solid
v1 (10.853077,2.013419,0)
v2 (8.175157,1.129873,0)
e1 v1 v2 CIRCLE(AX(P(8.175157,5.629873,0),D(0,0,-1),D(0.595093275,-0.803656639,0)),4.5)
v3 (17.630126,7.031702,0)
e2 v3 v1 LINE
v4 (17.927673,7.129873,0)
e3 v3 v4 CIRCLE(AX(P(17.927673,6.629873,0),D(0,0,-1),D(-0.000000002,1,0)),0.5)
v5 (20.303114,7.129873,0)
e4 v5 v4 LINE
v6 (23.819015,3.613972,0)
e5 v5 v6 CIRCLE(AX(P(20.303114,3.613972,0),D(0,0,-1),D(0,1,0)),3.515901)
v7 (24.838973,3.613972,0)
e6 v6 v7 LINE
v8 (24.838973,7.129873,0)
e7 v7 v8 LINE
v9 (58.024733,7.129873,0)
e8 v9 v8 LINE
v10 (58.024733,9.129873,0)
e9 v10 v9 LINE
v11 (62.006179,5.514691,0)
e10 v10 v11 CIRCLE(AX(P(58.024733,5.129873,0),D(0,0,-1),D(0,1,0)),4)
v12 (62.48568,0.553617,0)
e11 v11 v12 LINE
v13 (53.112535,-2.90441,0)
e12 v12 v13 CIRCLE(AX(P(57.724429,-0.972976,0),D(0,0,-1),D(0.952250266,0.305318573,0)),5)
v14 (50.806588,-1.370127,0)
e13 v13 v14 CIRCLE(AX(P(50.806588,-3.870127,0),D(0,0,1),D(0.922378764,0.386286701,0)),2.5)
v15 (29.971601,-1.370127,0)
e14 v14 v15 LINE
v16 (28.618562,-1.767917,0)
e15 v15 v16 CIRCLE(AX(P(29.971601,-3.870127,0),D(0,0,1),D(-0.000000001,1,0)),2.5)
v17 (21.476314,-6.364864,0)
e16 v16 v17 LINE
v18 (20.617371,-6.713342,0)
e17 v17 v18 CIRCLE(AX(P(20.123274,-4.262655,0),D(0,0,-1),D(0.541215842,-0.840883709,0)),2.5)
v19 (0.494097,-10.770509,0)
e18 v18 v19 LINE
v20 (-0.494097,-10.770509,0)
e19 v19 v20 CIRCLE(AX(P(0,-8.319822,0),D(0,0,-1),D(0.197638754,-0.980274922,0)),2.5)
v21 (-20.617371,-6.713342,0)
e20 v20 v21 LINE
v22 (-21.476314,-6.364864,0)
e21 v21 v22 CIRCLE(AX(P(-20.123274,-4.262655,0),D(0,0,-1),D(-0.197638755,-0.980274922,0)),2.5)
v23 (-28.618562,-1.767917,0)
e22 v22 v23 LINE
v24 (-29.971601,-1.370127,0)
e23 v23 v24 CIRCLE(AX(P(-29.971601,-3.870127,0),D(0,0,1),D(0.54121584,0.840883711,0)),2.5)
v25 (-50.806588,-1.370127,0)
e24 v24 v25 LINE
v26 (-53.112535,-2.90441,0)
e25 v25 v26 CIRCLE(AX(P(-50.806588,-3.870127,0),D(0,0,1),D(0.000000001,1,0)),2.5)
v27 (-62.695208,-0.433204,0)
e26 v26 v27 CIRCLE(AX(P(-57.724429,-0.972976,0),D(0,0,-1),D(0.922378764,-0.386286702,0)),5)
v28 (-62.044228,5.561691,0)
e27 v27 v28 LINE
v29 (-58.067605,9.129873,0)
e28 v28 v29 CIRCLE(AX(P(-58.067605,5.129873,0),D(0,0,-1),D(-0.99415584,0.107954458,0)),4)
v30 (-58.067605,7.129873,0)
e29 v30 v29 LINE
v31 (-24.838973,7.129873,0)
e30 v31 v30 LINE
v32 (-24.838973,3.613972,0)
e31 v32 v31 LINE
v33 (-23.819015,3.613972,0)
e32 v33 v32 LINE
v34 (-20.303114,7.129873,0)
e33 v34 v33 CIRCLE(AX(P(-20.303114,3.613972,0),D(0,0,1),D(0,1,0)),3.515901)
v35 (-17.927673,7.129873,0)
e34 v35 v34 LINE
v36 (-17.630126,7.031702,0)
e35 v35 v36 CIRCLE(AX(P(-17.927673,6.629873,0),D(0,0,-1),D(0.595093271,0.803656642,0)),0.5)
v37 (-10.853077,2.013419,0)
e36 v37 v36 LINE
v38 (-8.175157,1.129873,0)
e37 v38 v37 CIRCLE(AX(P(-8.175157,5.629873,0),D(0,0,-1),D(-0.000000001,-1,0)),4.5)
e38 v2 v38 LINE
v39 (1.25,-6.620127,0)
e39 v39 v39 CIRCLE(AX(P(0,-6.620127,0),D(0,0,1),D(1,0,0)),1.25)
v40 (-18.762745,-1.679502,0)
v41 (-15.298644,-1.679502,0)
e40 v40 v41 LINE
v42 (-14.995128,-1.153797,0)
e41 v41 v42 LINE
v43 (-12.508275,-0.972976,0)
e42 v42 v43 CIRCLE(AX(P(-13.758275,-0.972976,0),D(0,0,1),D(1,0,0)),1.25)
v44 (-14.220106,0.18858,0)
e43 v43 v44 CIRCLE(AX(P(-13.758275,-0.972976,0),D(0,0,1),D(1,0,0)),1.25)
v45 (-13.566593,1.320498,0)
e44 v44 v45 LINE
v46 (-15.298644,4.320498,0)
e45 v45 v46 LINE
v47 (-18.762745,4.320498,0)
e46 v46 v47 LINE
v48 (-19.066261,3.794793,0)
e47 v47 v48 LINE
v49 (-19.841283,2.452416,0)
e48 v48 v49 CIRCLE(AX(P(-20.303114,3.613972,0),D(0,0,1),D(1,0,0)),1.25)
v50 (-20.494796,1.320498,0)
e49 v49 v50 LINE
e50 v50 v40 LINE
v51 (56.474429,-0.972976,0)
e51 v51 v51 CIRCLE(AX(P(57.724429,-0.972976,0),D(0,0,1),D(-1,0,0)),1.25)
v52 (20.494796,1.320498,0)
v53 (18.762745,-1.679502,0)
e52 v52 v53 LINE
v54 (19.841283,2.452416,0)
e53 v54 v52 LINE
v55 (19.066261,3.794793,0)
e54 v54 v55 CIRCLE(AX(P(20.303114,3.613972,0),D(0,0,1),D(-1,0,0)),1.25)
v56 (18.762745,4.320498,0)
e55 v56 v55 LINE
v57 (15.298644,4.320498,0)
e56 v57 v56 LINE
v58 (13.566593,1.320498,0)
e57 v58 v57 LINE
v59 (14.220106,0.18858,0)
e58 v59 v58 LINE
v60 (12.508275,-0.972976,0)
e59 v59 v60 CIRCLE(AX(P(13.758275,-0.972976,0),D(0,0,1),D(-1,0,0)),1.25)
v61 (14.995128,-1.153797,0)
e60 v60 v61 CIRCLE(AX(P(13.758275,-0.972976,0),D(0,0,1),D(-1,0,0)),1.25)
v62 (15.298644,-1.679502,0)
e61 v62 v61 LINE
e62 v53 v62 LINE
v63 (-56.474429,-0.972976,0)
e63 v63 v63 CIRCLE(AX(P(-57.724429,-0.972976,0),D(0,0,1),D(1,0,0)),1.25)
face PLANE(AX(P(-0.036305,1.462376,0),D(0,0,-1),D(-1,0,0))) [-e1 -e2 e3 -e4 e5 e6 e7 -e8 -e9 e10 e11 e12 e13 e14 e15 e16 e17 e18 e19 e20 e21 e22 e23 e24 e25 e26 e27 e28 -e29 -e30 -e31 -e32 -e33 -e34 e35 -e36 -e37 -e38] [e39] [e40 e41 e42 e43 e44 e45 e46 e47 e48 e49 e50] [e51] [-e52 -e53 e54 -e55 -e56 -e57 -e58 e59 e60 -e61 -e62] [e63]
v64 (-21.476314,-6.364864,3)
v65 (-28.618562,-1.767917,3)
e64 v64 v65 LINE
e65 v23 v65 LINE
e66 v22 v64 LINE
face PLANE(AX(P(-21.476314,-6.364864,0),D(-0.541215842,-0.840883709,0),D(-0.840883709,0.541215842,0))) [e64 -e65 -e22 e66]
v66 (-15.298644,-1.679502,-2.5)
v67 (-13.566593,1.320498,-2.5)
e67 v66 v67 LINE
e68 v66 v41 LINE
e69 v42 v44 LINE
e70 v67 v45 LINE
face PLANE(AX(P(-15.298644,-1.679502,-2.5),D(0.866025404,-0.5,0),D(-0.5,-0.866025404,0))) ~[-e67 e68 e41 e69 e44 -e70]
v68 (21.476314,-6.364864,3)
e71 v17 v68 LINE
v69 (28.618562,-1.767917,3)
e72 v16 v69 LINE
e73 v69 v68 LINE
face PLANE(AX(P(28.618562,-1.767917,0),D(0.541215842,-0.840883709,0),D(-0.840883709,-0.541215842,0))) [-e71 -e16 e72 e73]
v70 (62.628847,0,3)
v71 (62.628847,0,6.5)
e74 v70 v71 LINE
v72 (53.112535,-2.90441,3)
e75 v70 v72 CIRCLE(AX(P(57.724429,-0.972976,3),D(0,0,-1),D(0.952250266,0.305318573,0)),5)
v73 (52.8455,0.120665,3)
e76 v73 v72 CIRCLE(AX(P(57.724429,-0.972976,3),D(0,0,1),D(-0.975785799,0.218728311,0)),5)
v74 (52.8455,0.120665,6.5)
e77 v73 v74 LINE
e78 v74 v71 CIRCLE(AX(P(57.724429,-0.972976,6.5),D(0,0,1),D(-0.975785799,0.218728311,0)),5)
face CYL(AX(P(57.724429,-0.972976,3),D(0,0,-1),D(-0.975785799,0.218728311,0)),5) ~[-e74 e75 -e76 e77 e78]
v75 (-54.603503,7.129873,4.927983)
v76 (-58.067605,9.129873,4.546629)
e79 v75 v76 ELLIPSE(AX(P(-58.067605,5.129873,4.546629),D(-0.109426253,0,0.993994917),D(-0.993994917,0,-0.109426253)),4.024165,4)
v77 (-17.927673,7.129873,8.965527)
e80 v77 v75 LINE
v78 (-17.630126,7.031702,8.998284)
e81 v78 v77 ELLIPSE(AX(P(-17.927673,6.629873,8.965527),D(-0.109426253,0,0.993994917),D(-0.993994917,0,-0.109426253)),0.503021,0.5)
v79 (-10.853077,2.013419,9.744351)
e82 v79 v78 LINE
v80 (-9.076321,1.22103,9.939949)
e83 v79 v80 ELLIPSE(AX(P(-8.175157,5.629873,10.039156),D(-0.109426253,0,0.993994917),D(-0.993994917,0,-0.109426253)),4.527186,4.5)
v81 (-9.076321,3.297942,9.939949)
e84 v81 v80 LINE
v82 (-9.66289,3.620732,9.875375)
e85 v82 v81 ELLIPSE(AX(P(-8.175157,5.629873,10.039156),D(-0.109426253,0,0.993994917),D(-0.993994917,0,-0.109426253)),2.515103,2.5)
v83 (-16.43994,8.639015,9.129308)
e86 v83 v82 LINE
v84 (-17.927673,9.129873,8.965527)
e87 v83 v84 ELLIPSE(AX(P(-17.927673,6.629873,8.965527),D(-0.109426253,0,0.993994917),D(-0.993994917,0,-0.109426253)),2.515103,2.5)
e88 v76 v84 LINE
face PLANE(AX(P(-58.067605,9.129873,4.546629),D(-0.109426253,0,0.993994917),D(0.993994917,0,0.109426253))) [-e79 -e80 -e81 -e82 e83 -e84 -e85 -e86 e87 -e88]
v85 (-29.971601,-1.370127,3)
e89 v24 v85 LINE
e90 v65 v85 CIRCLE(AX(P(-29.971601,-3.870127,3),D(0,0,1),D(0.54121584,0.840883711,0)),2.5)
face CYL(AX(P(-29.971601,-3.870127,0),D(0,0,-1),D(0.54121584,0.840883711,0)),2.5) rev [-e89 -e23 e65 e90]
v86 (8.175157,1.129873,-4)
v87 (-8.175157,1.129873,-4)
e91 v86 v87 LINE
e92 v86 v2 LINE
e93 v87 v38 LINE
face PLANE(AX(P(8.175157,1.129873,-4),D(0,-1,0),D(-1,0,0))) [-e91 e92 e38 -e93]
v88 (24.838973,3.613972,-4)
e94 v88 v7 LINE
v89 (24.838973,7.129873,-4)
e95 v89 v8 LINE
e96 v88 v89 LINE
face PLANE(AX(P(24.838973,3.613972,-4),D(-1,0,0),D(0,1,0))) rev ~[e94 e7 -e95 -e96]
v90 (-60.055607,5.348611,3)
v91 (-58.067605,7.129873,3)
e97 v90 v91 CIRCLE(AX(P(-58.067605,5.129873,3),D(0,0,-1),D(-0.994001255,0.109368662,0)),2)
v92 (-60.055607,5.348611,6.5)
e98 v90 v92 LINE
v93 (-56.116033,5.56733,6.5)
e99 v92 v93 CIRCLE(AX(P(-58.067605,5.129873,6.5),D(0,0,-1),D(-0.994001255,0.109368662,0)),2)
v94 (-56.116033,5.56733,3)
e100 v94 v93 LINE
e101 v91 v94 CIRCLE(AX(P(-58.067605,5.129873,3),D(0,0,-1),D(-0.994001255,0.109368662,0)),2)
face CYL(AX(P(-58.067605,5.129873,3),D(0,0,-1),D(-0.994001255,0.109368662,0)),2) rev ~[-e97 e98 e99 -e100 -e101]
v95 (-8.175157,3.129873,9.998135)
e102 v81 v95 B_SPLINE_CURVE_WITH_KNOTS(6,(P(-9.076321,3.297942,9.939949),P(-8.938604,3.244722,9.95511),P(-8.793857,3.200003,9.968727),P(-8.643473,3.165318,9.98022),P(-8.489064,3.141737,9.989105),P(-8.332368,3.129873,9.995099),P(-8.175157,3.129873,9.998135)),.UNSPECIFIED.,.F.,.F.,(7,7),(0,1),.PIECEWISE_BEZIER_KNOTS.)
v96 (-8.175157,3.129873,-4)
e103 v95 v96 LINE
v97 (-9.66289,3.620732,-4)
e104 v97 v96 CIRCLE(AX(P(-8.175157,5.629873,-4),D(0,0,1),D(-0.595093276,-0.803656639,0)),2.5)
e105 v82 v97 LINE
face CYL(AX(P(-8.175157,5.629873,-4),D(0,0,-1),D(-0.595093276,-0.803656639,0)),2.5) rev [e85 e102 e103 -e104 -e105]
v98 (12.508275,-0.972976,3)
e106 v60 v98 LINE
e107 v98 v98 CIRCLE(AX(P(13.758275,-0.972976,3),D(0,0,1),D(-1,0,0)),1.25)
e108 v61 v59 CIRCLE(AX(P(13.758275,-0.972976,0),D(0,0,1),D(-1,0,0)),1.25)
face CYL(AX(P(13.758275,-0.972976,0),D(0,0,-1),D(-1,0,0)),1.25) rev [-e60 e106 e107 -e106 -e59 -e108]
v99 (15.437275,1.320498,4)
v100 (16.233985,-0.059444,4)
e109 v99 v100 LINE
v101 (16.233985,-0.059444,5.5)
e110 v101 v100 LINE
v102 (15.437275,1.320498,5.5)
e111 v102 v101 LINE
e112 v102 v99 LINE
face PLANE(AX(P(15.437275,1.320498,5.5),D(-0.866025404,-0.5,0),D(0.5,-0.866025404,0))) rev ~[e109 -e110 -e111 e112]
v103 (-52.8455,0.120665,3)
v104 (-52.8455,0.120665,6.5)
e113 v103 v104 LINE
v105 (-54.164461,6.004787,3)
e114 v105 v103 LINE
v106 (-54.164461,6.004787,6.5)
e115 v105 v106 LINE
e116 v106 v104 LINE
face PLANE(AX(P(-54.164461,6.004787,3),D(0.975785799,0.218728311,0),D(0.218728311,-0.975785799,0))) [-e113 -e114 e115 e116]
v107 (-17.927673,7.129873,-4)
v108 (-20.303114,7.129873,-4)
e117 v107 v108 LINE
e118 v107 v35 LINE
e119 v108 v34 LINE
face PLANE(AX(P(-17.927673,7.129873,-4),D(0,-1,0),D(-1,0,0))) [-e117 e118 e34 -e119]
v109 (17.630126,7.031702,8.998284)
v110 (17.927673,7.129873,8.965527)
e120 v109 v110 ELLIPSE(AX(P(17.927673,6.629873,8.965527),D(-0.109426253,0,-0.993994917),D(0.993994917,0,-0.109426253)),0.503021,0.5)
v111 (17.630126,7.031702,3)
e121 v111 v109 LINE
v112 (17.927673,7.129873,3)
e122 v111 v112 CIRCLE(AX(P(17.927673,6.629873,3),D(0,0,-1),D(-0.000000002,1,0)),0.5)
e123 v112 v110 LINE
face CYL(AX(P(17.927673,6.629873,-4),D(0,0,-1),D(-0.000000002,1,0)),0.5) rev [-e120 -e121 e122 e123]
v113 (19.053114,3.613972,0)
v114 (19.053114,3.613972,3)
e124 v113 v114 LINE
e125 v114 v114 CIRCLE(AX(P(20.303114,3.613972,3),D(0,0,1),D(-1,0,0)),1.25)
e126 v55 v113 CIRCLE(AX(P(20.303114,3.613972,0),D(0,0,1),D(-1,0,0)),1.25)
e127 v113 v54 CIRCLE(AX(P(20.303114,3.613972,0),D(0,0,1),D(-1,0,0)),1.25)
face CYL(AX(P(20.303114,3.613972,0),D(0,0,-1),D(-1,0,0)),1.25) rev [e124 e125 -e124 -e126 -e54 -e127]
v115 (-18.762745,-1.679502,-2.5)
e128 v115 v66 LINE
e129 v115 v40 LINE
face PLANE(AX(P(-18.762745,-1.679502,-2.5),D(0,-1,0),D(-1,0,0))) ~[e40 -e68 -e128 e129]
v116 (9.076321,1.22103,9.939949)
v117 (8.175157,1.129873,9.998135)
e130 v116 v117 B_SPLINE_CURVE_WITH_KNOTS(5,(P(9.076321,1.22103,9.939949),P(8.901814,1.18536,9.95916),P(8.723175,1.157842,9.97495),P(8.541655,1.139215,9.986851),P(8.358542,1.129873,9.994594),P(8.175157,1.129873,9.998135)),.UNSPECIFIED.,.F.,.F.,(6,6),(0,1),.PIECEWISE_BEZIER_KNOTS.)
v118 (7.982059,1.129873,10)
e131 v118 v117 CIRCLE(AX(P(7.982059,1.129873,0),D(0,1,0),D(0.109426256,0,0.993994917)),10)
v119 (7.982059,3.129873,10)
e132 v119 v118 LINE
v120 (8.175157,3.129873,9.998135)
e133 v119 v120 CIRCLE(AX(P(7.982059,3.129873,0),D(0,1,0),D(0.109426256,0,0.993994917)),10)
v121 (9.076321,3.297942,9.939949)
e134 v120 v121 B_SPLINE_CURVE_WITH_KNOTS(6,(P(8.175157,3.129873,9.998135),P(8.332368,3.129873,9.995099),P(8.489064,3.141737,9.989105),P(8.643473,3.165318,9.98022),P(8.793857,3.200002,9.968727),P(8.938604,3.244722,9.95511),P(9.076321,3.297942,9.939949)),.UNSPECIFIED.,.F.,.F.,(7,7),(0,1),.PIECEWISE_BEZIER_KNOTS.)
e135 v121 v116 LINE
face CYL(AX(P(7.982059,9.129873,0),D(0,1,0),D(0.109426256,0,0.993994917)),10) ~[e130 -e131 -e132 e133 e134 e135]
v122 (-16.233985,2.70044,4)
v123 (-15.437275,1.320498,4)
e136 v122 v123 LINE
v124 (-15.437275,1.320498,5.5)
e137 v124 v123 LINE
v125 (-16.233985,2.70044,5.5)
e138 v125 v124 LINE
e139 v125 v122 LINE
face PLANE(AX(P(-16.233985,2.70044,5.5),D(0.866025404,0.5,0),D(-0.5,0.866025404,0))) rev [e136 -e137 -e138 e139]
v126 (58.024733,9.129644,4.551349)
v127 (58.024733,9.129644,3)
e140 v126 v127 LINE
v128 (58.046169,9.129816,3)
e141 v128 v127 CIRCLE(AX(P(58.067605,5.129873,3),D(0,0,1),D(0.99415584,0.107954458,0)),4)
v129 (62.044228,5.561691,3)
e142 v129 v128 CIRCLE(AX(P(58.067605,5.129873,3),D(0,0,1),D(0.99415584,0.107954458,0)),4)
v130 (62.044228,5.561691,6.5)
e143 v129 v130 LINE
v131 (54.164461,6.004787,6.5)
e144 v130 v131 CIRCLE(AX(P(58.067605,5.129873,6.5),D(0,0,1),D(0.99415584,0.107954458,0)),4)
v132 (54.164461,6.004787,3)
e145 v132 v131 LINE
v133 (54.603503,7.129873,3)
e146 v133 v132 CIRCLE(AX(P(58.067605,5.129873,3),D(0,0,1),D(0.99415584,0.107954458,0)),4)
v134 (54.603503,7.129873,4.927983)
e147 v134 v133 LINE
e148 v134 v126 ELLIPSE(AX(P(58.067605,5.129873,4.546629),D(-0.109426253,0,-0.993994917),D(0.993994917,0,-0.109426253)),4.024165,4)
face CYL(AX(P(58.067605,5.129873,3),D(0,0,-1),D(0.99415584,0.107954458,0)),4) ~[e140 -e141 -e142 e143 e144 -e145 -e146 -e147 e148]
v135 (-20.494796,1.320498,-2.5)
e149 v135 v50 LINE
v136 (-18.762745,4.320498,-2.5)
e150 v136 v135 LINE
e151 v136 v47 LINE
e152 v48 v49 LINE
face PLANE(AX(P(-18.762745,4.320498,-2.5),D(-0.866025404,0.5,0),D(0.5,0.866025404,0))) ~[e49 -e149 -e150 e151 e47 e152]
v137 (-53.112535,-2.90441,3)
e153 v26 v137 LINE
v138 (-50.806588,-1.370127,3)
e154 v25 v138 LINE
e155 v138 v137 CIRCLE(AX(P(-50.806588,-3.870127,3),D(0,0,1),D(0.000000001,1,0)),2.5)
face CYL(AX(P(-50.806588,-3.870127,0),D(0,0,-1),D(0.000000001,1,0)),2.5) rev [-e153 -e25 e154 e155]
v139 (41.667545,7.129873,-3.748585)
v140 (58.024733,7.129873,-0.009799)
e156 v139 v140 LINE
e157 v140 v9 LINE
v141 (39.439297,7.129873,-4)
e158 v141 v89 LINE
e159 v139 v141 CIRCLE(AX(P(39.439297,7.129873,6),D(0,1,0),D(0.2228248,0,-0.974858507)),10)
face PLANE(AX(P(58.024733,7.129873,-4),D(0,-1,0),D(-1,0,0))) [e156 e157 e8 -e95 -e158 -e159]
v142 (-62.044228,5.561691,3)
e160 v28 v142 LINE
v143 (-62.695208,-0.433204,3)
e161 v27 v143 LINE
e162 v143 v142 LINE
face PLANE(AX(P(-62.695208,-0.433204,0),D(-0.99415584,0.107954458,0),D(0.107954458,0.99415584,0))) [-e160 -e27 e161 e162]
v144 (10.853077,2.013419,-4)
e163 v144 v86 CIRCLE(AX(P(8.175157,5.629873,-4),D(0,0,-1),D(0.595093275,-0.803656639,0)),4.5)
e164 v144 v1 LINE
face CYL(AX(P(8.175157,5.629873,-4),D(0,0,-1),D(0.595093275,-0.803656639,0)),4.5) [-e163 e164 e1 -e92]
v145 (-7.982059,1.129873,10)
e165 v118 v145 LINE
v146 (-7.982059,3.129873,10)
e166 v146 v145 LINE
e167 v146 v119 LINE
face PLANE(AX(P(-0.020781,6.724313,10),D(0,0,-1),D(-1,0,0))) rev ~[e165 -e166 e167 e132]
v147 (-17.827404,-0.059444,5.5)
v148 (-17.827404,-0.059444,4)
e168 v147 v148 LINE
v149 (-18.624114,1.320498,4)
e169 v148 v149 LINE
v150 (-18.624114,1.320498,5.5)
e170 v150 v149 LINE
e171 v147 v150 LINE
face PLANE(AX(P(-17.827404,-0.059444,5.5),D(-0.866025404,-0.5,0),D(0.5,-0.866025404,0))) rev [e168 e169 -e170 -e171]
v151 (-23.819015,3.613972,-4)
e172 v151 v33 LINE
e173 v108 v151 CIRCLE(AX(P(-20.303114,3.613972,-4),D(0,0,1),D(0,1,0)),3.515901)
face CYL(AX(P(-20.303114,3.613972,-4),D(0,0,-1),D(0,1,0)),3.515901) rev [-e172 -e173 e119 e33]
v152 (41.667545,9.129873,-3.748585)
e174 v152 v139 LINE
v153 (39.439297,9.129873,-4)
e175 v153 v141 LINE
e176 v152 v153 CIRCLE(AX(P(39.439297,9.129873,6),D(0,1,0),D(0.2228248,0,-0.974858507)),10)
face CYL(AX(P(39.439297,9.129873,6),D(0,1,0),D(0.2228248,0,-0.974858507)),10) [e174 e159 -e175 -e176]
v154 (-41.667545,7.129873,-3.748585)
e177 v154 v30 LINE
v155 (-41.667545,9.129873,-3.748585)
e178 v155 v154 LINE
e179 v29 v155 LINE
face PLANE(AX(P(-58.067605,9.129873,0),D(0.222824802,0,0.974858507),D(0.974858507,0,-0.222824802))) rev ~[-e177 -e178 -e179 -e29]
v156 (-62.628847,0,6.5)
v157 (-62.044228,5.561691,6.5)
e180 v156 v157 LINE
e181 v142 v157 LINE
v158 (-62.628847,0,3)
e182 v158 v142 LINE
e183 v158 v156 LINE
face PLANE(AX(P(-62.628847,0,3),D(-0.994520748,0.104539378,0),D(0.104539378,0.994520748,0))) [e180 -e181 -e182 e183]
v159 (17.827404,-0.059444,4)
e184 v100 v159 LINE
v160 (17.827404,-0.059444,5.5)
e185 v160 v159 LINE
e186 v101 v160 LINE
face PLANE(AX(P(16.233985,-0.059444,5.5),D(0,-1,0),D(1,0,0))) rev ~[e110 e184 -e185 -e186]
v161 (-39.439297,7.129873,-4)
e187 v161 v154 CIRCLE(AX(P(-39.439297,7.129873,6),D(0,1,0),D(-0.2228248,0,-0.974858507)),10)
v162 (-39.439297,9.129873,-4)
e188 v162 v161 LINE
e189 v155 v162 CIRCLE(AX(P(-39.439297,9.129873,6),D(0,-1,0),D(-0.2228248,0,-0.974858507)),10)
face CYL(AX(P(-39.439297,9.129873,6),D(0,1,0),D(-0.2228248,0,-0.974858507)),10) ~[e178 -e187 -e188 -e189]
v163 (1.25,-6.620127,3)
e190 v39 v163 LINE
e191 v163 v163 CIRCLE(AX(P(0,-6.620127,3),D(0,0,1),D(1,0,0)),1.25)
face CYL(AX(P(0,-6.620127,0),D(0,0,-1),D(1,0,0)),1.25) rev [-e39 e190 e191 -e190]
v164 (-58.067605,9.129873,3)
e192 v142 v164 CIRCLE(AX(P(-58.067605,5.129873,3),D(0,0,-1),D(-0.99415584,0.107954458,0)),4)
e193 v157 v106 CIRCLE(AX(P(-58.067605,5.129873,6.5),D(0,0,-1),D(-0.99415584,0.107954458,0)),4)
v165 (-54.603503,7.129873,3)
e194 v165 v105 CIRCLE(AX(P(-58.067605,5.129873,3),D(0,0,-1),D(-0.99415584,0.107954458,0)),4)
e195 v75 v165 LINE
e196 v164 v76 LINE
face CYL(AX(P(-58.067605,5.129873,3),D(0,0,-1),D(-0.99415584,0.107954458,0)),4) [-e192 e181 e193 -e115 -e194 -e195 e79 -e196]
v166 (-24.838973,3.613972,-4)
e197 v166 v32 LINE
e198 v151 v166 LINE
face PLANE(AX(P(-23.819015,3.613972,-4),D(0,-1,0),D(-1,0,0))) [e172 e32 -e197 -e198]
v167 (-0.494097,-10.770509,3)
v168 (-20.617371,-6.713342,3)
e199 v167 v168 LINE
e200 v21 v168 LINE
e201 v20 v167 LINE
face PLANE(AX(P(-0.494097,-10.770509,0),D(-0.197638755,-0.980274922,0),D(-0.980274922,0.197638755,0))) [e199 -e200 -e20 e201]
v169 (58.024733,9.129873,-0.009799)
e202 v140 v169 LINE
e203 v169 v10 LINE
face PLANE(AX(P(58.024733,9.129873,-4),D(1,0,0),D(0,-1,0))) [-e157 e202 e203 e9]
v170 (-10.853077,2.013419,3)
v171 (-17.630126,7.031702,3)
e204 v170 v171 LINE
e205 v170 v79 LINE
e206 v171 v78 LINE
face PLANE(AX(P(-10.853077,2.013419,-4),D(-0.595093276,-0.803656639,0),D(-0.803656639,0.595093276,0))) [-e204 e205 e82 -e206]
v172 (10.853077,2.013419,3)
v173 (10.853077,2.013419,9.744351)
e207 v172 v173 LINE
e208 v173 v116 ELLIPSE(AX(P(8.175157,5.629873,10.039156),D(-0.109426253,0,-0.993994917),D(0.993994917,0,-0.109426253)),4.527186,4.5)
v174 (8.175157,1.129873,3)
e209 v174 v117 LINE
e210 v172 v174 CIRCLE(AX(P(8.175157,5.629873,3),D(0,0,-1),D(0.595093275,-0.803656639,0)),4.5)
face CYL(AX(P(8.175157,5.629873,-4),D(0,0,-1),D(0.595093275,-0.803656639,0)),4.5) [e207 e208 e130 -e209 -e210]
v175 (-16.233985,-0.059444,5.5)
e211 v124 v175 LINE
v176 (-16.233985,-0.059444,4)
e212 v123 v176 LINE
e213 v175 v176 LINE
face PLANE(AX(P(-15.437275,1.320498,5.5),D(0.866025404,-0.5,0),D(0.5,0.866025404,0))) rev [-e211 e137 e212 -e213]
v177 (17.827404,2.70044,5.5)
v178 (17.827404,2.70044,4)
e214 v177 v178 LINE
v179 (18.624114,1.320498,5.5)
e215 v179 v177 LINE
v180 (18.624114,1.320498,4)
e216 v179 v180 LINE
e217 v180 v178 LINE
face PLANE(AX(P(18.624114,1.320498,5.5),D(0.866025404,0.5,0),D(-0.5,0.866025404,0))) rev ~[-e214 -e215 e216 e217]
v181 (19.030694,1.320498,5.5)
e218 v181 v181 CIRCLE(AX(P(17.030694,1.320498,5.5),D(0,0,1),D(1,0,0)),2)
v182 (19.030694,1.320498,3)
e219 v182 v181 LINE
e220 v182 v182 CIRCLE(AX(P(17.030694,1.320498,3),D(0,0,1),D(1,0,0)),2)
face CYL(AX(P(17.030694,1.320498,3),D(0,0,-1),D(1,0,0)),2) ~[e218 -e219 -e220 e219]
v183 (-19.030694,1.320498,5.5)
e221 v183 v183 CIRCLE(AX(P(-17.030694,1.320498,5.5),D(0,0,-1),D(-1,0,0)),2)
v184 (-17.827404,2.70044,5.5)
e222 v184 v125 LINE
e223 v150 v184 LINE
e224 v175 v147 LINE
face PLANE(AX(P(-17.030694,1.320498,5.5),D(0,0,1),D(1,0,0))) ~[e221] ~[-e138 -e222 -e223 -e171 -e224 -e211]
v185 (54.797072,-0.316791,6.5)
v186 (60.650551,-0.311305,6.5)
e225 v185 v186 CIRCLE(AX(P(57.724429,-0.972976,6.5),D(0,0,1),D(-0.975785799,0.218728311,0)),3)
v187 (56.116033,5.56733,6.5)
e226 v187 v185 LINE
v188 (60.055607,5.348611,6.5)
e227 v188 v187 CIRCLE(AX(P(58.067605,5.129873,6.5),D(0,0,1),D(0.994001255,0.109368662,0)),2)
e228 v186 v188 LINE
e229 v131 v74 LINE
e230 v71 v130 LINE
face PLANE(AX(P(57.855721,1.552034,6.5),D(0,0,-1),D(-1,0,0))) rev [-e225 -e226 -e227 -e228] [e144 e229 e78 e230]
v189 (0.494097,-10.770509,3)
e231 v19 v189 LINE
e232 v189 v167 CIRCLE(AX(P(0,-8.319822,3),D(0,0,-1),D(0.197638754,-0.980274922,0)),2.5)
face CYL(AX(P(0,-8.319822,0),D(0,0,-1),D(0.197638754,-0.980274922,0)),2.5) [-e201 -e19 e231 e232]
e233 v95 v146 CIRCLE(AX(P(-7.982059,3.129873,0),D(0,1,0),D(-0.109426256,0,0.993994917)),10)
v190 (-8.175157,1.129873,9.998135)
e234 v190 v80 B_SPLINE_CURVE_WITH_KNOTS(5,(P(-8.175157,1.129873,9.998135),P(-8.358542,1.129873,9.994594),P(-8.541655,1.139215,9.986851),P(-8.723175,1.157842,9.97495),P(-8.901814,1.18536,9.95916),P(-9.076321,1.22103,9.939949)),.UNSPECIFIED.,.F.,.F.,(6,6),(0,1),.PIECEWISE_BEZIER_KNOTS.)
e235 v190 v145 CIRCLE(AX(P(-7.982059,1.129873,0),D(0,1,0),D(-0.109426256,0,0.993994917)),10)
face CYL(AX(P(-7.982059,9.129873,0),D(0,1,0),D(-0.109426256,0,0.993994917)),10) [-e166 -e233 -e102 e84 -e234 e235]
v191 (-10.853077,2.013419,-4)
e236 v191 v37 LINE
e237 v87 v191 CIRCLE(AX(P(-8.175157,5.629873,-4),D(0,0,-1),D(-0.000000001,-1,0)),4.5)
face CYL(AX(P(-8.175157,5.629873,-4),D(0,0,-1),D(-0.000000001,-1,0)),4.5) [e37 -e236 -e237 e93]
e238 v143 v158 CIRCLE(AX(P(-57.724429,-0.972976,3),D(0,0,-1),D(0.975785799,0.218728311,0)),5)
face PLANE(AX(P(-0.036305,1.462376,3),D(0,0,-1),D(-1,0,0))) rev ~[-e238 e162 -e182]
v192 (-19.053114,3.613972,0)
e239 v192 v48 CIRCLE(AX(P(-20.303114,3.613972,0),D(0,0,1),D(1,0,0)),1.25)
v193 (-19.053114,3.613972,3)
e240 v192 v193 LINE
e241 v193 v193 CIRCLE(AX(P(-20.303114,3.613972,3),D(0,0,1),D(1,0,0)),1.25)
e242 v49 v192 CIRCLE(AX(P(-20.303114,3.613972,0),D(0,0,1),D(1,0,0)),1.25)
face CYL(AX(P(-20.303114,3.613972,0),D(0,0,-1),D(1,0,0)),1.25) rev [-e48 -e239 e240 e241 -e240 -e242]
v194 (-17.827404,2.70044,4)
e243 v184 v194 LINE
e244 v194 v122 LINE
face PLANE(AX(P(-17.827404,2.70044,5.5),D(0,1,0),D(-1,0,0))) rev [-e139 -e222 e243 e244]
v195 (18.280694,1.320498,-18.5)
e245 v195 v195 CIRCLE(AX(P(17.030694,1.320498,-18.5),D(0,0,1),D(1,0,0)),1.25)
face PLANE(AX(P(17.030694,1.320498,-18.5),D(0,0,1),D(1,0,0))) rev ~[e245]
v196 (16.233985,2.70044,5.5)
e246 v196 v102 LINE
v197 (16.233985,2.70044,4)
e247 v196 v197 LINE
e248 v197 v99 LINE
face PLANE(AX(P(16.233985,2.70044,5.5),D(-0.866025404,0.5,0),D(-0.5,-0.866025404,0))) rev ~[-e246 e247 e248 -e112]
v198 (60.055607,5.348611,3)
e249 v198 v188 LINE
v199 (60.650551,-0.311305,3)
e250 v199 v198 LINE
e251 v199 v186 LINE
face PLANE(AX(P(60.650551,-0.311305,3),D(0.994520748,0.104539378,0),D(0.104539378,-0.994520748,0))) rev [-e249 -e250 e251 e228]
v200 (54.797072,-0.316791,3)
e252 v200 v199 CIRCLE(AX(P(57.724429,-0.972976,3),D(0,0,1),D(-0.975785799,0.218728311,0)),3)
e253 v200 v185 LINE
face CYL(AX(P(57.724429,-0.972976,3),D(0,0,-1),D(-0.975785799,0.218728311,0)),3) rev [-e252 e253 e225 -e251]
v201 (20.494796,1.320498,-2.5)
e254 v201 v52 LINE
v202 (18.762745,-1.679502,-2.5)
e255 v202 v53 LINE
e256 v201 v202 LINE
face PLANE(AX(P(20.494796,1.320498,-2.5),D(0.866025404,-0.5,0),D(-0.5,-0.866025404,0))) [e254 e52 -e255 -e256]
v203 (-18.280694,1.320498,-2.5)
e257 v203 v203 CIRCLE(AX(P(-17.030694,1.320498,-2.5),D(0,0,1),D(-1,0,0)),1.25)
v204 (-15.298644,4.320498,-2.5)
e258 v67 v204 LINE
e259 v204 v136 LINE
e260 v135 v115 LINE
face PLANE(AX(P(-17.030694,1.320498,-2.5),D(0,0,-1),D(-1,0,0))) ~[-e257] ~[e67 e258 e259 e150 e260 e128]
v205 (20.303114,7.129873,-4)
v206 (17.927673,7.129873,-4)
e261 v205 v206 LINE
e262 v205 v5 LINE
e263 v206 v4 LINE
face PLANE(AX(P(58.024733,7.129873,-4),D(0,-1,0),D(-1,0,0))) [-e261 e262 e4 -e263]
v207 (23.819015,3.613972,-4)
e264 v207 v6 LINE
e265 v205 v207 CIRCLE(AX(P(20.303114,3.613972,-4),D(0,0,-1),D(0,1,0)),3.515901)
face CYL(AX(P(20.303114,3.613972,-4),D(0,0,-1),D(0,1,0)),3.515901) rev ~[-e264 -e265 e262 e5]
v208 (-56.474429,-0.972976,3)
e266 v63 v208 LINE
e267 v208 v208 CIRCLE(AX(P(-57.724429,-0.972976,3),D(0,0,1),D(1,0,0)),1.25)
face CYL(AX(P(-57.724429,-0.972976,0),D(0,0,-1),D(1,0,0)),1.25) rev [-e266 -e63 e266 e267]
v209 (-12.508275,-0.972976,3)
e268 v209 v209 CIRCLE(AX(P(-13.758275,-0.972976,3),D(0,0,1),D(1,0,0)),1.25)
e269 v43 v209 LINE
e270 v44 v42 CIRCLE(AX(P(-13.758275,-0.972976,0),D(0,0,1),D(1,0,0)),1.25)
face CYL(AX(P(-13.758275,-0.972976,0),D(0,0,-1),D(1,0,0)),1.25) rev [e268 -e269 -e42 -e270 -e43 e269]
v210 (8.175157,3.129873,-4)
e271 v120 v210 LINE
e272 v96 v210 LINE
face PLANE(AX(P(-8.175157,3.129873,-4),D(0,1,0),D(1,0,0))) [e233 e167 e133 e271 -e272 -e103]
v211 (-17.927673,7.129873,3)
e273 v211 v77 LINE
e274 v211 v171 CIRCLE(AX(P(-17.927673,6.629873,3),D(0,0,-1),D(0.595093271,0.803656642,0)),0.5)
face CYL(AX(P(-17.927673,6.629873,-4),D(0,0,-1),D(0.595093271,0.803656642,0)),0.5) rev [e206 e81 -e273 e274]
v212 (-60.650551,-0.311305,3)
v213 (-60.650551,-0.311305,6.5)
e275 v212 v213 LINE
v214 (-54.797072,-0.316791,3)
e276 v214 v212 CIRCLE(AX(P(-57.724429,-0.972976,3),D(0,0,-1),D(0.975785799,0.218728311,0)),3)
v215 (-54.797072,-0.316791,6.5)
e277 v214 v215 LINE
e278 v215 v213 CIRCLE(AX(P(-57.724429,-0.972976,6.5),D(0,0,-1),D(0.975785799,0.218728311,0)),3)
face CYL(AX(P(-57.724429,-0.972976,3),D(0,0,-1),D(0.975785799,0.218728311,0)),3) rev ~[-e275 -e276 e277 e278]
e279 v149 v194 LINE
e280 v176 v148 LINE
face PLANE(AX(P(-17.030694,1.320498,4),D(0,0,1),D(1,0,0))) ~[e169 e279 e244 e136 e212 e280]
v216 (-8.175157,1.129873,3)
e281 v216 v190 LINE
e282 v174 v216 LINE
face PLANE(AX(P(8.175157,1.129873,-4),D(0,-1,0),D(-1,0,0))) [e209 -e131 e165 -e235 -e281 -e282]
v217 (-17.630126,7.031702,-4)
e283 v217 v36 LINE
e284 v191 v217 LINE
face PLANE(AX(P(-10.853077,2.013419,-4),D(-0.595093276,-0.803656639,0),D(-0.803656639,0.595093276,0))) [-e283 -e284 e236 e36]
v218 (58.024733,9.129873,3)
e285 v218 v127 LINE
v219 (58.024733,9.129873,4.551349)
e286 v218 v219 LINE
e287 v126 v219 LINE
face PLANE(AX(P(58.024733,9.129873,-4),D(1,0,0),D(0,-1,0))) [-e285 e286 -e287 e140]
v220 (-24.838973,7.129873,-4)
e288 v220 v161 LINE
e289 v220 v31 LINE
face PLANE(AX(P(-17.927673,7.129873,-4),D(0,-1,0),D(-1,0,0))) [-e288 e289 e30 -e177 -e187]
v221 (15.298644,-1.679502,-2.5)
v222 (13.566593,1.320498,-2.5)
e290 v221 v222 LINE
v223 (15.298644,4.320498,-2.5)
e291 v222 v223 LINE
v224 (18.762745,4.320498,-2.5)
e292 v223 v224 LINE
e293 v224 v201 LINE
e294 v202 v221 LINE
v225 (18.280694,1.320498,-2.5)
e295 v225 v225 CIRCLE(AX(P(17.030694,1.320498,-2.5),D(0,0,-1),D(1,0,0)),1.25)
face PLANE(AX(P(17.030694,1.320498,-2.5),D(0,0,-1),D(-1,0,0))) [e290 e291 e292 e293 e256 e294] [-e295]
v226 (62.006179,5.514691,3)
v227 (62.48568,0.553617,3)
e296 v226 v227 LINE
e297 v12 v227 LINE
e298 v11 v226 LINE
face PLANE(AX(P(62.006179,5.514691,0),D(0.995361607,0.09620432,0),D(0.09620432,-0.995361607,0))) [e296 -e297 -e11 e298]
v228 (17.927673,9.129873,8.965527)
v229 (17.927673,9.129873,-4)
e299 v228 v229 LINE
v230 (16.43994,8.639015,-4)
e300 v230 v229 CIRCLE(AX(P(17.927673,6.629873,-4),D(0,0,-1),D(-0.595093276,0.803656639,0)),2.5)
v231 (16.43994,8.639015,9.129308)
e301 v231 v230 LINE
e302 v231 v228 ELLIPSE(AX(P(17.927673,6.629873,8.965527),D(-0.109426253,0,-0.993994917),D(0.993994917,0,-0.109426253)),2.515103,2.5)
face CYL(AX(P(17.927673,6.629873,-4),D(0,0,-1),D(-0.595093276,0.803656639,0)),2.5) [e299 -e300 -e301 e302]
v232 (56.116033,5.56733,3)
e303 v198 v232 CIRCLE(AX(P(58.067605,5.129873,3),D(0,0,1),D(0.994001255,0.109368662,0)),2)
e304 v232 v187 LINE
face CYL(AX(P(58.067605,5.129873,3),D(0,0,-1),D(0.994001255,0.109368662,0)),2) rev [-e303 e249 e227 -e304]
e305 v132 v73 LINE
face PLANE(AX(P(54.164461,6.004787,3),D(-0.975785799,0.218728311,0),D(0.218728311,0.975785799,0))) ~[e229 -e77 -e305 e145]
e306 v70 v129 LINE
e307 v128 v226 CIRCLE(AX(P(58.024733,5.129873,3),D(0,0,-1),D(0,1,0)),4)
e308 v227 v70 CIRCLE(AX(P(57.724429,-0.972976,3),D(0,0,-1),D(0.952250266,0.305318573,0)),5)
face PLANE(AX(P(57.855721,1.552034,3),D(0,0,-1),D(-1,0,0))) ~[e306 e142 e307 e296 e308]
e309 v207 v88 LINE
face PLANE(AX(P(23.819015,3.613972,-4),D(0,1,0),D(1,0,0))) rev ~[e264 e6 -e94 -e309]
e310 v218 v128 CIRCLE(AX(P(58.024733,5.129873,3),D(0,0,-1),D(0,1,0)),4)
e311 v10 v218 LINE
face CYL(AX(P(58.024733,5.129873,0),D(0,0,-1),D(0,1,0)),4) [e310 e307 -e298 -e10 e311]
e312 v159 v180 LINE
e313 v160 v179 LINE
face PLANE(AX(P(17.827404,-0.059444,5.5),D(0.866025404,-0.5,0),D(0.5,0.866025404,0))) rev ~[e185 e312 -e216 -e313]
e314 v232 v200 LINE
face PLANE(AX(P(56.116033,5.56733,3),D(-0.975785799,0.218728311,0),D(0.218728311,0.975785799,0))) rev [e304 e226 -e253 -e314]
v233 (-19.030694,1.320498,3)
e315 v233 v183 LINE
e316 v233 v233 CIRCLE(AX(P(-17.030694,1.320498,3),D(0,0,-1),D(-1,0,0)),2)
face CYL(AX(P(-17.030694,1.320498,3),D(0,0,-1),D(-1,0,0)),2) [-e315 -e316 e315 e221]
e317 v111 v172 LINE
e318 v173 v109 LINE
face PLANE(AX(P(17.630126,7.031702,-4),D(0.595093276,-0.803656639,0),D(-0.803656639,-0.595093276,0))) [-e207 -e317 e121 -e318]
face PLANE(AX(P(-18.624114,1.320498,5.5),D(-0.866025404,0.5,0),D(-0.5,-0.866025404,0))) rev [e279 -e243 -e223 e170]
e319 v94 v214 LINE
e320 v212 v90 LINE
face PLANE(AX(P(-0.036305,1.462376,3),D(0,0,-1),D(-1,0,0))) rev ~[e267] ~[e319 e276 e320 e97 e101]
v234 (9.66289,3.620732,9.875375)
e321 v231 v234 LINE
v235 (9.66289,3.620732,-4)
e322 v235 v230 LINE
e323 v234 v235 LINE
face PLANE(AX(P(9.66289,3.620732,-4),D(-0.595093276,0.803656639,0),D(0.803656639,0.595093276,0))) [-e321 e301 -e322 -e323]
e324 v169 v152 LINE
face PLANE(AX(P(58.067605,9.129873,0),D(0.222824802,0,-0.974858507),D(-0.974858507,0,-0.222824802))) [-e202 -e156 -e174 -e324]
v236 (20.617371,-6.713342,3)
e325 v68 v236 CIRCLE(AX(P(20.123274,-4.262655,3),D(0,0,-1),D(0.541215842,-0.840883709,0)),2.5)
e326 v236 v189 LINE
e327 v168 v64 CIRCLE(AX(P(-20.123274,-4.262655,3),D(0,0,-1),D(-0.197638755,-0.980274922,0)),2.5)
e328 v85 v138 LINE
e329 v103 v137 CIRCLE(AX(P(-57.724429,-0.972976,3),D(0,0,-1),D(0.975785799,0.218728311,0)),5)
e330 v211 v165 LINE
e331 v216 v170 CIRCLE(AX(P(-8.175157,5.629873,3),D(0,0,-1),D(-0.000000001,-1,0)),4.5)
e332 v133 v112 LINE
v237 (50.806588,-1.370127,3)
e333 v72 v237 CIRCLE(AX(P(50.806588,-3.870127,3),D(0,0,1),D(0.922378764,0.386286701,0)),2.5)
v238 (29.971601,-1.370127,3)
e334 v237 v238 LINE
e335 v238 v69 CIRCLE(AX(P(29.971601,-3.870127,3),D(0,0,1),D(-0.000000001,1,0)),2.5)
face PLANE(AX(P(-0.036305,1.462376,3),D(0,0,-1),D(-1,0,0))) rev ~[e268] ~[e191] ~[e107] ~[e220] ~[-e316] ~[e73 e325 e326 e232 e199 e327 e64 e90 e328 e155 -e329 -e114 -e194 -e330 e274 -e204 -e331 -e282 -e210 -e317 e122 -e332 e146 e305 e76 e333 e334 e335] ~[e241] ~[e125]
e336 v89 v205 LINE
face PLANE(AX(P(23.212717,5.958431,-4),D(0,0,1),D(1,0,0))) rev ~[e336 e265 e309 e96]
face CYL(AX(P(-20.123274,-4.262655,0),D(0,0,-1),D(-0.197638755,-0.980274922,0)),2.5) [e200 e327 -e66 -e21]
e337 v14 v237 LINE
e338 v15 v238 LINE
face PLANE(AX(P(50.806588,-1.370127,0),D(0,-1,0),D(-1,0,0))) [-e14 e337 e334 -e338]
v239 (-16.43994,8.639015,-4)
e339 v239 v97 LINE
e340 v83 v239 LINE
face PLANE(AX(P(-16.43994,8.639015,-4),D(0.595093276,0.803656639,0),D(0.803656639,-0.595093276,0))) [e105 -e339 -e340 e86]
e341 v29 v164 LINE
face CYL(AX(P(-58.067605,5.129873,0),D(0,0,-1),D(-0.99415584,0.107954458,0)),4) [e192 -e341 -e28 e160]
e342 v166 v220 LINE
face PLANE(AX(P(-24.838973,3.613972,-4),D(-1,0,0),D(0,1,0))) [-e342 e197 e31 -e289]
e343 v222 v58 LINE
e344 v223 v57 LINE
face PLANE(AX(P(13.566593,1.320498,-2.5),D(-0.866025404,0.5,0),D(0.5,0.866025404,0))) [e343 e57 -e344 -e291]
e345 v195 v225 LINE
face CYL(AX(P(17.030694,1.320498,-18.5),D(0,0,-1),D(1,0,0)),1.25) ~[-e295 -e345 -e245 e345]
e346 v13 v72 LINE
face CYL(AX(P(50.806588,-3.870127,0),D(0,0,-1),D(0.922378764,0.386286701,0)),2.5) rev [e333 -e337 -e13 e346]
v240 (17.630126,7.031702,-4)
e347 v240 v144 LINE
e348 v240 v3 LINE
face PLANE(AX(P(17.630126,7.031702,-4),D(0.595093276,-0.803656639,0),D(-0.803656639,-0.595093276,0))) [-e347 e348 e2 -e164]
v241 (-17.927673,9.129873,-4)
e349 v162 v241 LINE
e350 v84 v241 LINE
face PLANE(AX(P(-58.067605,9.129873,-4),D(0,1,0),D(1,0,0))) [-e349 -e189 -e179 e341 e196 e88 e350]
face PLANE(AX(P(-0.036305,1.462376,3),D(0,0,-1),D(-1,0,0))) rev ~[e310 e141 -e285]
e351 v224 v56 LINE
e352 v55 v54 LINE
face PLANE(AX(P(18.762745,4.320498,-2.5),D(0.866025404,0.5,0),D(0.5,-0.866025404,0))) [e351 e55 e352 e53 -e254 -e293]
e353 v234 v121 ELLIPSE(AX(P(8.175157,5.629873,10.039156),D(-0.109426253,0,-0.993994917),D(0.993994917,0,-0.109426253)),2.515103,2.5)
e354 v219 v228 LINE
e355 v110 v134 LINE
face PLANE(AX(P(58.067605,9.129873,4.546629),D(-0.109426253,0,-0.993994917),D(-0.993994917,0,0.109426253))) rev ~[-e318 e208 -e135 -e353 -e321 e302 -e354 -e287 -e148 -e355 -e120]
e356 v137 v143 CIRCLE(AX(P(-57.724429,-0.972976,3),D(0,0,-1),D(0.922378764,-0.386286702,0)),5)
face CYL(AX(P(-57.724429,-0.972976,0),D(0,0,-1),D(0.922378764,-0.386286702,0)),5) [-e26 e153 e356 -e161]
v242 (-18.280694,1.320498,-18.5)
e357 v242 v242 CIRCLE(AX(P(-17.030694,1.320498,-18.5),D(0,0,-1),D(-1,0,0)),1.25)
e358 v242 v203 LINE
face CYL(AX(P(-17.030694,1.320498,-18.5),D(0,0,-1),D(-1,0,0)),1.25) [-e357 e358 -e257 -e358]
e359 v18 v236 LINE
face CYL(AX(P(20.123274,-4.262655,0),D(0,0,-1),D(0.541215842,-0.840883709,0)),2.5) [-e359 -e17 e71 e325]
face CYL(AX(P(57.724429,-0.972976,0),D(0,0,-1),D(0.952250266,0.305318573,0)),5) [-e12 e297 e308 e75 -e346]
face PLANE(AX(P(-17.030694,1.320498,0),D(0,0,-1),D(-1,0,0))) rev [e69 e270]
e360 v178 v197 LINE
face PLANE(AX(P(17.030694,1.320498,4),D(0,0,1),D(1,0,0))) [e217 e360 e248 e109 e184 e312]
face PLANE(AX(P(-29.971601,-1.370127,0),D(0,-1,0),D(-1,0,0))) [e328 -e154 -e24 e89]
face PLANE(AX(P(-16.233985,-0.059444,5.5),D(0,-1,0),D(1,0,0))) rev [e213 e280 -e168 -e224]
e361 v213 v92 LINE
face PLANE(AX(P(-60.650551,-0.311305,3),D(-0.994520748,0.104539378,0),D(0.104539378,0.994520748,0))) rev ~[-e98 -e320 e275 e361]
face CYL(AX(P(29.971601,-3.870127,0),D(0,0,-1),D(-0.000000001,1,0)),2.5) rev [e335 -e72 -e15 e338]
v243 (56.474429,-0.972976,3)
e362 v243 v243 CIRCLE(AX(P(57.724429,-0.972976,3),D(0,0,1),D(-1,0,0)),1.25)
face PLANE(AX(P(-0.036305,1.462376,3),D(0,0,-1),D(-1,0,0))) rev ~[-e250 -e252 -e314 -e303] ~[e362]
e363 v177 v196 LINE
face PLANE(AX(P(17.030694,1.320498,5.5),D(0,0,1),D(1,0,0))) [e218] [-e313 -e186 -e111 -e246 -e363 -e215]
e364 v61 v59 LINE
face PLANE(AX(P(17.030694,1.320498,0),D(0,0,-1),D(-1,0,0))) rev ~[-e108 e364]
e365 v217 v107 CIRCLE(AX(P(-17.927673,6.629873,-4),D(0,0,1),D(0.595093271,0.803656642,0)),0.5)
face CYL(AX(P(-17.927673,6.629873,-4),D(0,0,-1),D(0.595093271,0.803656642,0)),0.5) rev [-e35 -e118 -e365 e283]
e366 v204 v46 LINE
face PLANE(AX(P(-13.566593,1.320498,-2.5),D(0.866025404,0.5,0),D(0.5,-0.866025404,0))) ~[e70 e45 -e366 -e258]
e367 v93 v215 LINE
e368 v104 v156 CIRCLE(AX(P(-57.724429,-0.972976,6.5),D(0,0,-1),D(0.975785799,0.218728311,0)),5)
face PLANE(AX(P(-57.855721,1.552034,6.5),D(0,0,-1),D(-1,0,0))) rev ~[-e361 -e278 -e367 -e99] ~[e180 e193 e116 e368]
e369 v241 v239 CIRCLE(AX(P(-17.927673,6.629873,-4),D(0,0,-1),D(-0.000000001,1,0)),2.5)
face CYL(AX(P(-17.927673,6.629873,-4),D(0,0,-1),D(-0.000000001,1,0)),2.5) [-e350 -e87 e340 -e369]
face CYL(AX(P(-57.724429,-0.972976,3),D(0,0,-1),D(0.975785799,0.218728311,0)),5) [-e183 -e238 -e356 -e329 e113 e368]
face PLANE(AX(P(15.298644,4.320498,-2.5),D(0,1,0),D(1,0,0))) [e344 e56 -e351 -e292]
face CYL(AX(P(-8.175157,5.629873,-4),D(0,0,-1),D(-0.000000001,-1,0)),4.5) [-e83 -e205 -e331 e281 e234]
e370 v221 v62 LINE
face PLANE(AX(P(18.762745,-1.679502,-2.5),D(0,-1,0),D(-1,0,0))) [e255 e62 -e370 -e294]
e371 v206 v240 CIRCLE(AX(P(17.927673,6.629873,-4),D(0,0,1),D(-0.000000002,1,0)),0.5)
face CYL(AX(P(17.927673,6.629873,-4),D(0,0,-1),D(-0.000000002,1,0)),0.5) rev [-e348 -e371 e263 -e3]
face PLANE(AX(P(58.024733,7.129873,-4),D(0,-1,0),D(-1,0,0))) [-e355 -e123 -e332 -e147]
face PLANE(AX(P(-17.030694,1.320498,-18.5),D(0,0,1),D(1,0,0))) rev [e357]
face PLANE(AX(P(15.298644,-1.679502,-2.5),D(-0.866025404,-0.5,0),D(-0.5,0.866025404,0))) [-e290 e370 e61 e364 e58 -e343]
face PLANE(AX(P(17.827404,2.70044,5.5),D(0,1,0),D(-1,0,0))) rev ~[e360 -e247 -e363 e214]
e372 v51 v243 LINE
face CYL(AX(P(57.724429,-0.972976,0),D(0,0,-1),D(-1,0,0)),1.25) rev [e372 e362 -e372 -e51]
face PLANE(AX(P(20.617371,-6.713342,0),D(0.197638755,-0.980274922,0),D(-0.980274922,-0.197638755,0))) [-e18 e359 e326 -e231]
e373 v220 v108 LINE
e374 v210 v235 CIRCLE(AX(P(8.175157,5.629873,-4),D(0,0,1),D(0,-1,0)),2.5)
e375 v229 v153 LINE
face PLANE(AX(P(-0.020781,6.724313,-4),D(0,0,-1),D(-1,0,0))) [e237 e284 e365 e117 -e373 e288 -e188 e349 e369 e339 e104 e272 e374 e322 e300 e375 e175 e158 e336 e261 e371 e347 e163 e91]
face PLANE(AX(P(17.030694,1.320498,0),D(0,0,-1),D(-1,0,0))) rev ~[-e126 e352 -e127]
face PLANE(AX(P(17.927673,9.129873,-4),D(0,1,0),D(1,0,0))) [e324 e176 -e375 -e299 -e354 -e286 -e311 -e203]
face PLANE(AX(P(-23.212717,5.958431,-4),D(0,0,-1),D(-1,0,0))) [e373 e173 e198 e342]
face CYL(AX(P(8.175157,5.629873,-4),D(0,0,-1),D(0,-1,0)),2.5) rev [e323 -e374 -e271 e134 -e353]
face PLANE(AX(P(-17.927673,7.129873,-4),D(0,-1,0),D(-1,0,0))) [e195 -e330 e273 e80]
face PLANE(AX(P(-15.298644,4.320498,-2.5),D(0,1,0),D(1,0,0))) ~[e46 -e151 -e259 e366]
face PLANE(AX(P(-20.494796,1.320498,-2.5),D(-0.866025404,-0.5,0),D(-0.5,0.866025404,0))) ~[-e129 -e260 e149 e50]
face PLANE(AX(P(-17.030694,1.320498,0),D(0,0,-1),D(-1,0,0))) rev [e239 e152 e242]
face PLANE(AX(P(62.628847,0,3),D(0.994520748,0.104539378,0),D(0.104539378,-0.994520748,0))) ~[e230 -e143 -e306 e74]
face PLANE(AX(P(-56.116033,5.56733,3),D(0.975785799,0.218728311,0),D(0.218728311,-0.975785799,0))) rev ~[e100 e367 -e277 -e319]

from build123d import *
from build123d.topology import SkipClean

# Parameters (mm, degrees)
SKETCH3_R                = 1.25
BOSS_EXTRUDE2_DEPTH      = 3
BOSS_EXTRUDE3_DEPTH      = 7
BOSS_EXTRUDE3_DEPTH_BACK = 7
CUT_EXTRUDE1_DEPTH       = 67.575853844
BOSS_EXTRUDE4_DEPTH      = 3.5
BOSS_EXTRUDE5_DEPTH      = 4
SKETCH9_R                = 2
BOSS_EXTRUDE6_DEPTH      = 2.5
BOSS_EXTRUDE7_START      = -24
SKETCH10_R               = 1.25
BOSS_EXTRUDE7_DEPTH      = 24
CUT_EXTRUDE2_DEPTH       = 1.5
BOSS_EXTRUDE8_START      = 2.5
SKETCH12_R               = 1.25
BOSS_EXTRUDE8_DEPTH      = 2.5


with BuildPart() as part:
    # Sketch3 → Boss-Extrude2 (new body)
    with BuildSketch(Plane.XY):
        with BuildLine():
            Line((-58.067604658, 9.129873432), (-17.927673113, 9.129873432))
            ThreePointArc((-17.927673113, 9.129873432), (-17.144364104, 9.003989478), (-16.439939924, 8.63901503))
            Line((-16.439939924, 8.63901503), (-9.662890391, 3.620731835))
            ThreePointArc((-9.662890391, 3.620731835), (-8.958466211, 3.255757387), (-8.175157202, 3.129873432))
            Line((-8.175157202, 3.129873432), (8.175157202, 3.129873432))
            ThreePointArc((8.175157202, 3.129873432), (8.958466211, 3.255757387), (9.662890391, 3.620731835))
            Line((9.662890391, 3.620731835), (16.439939924, 8.63901503))
            ThreePointArc((16.439939924, 8.63901503), (17.144364104, 9.003989478), (17.927673113, 9.129873432))
            Line((17.927673113, 9.129873432), (58.024732939, 9.129873432))
            ThreePointArc((58.024732939, 9.129873432), (60.713666824, 8.091230311), (62.006179367, 5.514690714))
            Line((62.006179367, 5.514690714), (62.485680247, 0.553616565))
            ThreePointArc((62.485680247, 0.553616565), (59.4550541, -5.663918261), (53.112535099, -2.904409812))
            ThreePointArc((53.112535099, -2.904409812), (52.191454269, -1.788745789), (50.80658819, -1.370126568))
            Line((50.80658819, -1.370126568), (29.971601132, -1.370126568))
            ThreePointArc((29.971601132, -1.370126568), (29.266449795, -1.471635044), (28.618561527, -1.767917294))
            Line((28.618561527, -1.767917294), (21.476313645, -6.364864122))
            ThreePointArc((21.476313645, -6.364864122), (21.063134423, -6.579260655), (20.617370927, -6.713342154))
            Line((20.617370927, -6.713342154), (0.494096887, -10.770508908))
            ThreePointArc((0.494096887, -10.770508908), (0, -10.819821603), (-0.494096887, -10.770508908))
            Line((-0.494096887, -10.770508908), (-20.617370927, -6.713342154))
            ThreePointArc((-20.617370927, -6.713342154), (-21.063134423, -6.579260655), (-21.476313645, -6.364864122))
            Line((-21.476313645, -6.364864122), (-28.618561527, -1.767917294))
            ThreePointArc((-28.618561527, -1.767917294), (-29.266449795, -1.471635044), (-29.971601132, -1.370126568))
            Line((-29.971601132, -1.370126568), (-50.80658819, -1.370126568))
            ThreePointArc((-50.80658819, -1.370126568), (-52.191454269, -1.788745789), (-53.112535099, -2.904409812))
            ThreePointArc((-53.112535099, -2.904409812), (-58.972993776, -5.814575808), (-62.69520812, -0.433204011))
            Line((-62.69520812, -0.433204011), (-62.044228019, 5.561691263))
            ThreePointArc((-62.044228019, 5.561691263), (-60.739002108, 8.107059295), (-58.067604658, 9.129873432))
        make_face()
        with Locations((0, -6.620126568)):
            Circle(SKETCH3_R, mode=Mode.SUBTRACT)
        with Locations((-57.724428918, -0.9729763)):
            Circle(SKETCH3_R, mode=Mode.SUBTRACT)
        with Locations(Location((57.724428918, -0.9729763, 0), (0, 0, 180))):
            Circle(SKETCH3_R, mode=Mode.SUBTRACT)
        with Locations((-20.303113823, 3.613972241)):
            Circle(SKETCH3_R, mode=Mode.SUBTRACT)
        with Locations((-17.030694447, 1.32049797)):
            Circle(SKETCH3_R, mode=Mode.SUBTRACT)
        with Locations((-13.758275071, -0.9729763)):
            Circle(SKETCH3_R, mode=Mode.SUBTRACT)
        with Locations(Location((13.758275071, -0.9729763, 0), (0, 0, 180))):
            Circle(SKETCH3_R, mode=Mode.SUBTRACT)
        with Locations(Location((17.030694447, 1.32049797, 0), (0, 0, 180))):
            Circle(SKETCH3_R, mode=Mode.SUBTRACT)
        with Locations(Location((20.303113823, 3.613972241, 0), (0, 0, 180))):
            Circle(SKETCH3_R, mode=Mode.SUBTRACT)
    extrude(amount=BOSS_EXTRUDE2_DEPTH)

    # Sketch5 → Boss-Extrude3 (add, two sides: drawn at the far end of the back side and taken through both)
    with BuildSketch(Plane.XY.offset(3).offset(-BOSS_EXTRUDE3_DEPTH_BACK)):
        with BuildLine():
            ThreePointArc((-17.630126475, 7.031701752), (-17.771011311, 7.104696641), (-17.927673113, 7.129873432))
            Line((-17.927673113, 7.129873432), (-58.067604658, 7.129873432))
            Line((-58.067604658, 7.129873432), (-58.067604658, 9.129873432))
            Line((-58.067604658, 9.129873432), (-17.927673113, 9.129873432))
            ThreePointArc((-17.927673113, 9.129873432), (-17.144364104, 9.003989478), (-16.439939924, 8.63901503))
            Line((-16.439939924, 8.63901503), (-9.662890391, 3.620731835))
            ThreePointArc((-9.662890391, 3.620731835), (-8.958466211, 3.255757387), (-8.175157202, 3.129873432))
            Line((-8.175157202, 3.129873432), (8.175157202, 3.129873432))
            ThreePointArc((8.175157202, 3.129873432), (8.958466211, 3.255757387), (9.662890391, 3.620731835))
            Line((9.662890391, 3.620731835), (16.439939924, 8.63901503))
            ThreePointArc((16.439939924, 8.63901503), (17.144364104, 9.003989478), (17.927673113, 9.129873432))
            Line((17.927673113, 9.129873432), (58.024732939, 9.129873432))
            Line((58.024732939, 9.129873432), (58.024732939, 7.129873432))
            Line((58.024732939, 7.129873432), (17.927673113, 7.129873432))
            ThreePointArc((17.927673113, 7.129873432), (17.771011311, 7.104696641), (17.630126475, 7.031701752))
            Line((17.630126475, 7.031701752), (10.853076942, 2.013418557))
            ThreePointArc((10.853076942, 2.013418557), (9.585113418, 1.356464551), (8.175157202, 1.129873432))
            Line((8.175157202, 1.129873432), (-8.175157202, 1.129873432))
            ThreePointArc((-8.175157202, 1.129873432), (-9.585113418, 1.356464551), (-10.853076942, 2.013418557))
            Line((-10.853076942, 2.013418557), (-17.630126475, 7.031701752))
        make_face()
    extrude(amount=BOSS_EXTRUDE3_DEPTH + BOSS_EXTRUDE3_DEPTH_BACK)

    # Sketch6 → Cut-Extrude1 (cut, through all)
    with BuildSketch(Plane(origin=(0, 9.129873432, 0), x_dir=(1, 0, 0), z_dir=(0, 1, 0))):
        with BuildLine():
            Line((-58.067604658, 0), (-41.667544995, 3.748585066))
            ThreePointArc((-41.667544995, 3.748585066), (-40.560490394, 3.936947485), (-39.43929698, 4))
            Line((-39.43929698, 4), (-58.067604658, 4))
            Line((-58.067604658, 4), (-58.067604658, 0))
        make_face()
        with BuildLine():
            Line((-58.067604658, -4.546629265), (-9.076321467, -9.93994917))
            ThreePointArc((-9.076321467, -9.93994917), (-8.530013446, -9.984976007), (-7.982058932, -10))
            Line((-7.982058932, -10), (-58.067604658, -10))
            Line((-58.067604658, -10), (-58.067604658, -4.546629265))
        make_face()
        with BuildLine():
            Line((58.067604658, -10), (58.067604658, -4.546629265))
            Line((58.067604658, -4.546629265), (9.076321467, -9.93994917))
            ThreePointArc((9.076321467, -9.93994917), (8.530013446, -9.984976007), (7.982058932, -10))
            Line((7.982058932, -10), (58.067604658, -10))
        make_face()
        with BuildLine():
            Line((58.067604658, 4), (58.067604658, 0))
            Line((58.067604658, 0), (41.667544995, 3.748585066))
            ThreePointArc((41.667544995, 3.748585066), (40.560490394, 3.936947485), (39.43929698, 4))
            Line((39.43929698, 4), (58.067604658, 4))
        make_face()
    extrude(amount=-CUT_EXTRUDE1_DEPTH, mode=Mode.SUBTRACT)

    # Sketch7 → Boss-Extrude4 (add)
    with BuildSketch(Plane.XY.offset(3)):
        with BuildLine():
            Line((-62.62884704, 0), (-62.044228019, 5.561691263))
            ThreePointArc((-62.044228019, 5.561691263), (-58.292178075, 9.123564304), (-54.164461461, 6.004786676))
            Line((-54.164461461, 6.004786676), (-52.845499921, 0.120665255))
            ThreePointArc((-52.845499921, 0.120665255), (-57.66276491, -5.972596041), (-62.62884704, 0))
        make_face()
        with BuildLine():
            Line((-56.116033059, 5.567330054), (-54.79707152, -0.316791367))
            ThreePointArc((-54.79707152, -0.316791367), (-57.727240857, -3.972974982), (-60.65055107, -0.311304821))
            Line((-60.65055107, -0.311304821), (-60.055607169, 5.348610756))
            ThreePointArc((-60.055607169, 5.348610756), (-58.178470954, 7.126798234), (-56.116033059, 5.567330054))
        make_face(mode=Mode.SUBTRACT)
    boss_extrude4 = extrude(amount=BOSS_EXTRUDE4_DEPTH)

    # Mirror1: Boss-Extrude4 across plane
    with SkipClean():  # the faces are left unmerged after this step: merging them gives an invalid solid
        add(boss_extrude4.mirror(Plane(origin=(0, 0, 0), x_dir=(0, 0, 1), z_dir=(1, 0, 0))))

    # Sketch8 → Boss-Extrude5 (add)
    with SkipClean():  # the faces are left unmerged after this step: merging them gives an invalid solid
        with BuildSketch(Plane(origin=(0, 0, -4), x_dir=(-1, 0, 0), z_dir=(0, 0, -1))):
            with BuildLine():
                Line((-23.819015015, 3.613972241), (-24.838972745, 3.613972241))
                Line((-24.838972745, 3.613972241), (-24.838972745, 7.129873432))
                Line((-24.838972745, 7.129873432), (-20.303113823, 7.129873432))
                ThreePointArc((-20.303113823, 7.129873432), (-22.789231398, 6.100089815), (-23.819015015, 3.613972241))
            make_face()
            with BuildLine():
                Line((24.838972745, 7.129873432), (20.303113823, 7.129873432))
                ThreePointArc((20.303113823, 7.129873432), (22.789231398, 6.100089815), (23.819015015, 3.613972241))
                Line((23.819015015, 3.613972241), (24.838972745, 3.613972241))
                Line((24.838972745, 3.613972241), (24.838972745, 7.129873432))
            make_face()
        extrude(amount=-BOSS_EXTRUDE5_DEPTH)

    # Sketch9 → Boss-Extrude6 (add)
    with SkipClean():  # the faces are left unmerged after this step: merging them gives an invalid solid
        with BuildSketch(Plane.XY.offset(3)):
            with Locations((17.030694447, 1.32049797)):
                Circle(SKETCH9_R)
        boss_extrude6 = extrude(amount=BOSS_EXTRUDE6_DEPTH)

    # Sketch10 → Boss-Extrude7 (add)
    with SkipClean():  # the faces are left unmerged after this step: merging them gives an invalid solid
        with BuildSketch(Plane.XY.offset(5.5).offset(BOSS_EXTRUDE7_START)):
            with Locations((17.030694447, 1.32049797)):
                Circle(SKETCH10_R)
        boss_extrude7 = extrude(amount=BOSS_EXTRUDE7_DEPTH)

    # Sketch11 → Cut-Extrude2 (cut)
    with SkipClean():  # the faces are left unmerged after this step: merging them gives an invalid solid
        with BuildSketch(Plane.XY.offset(5.5)):
            Polygon((17.827404099, 2.700439566), (16.233984796, 2.700439566), (15.437275144, 1.32049797), (16.233984796, -0.059443625), (17.827404099, -0.059443625), (18.62411375, 1.32049797), align=None)
        cut_extrude2 = extrude(amount=-CUT_EXTRUDE2_DEPTH, mode=Mode.SUBTRACT)

    # Sketch12 → Boss-Extrude8 (add)
    with SkipClean():  # the faces are left unmerged after this step: merging them gives an invalid solid
        with BuildSketch(Plane(origin=(0, 0, 0), x_dir=(-1, 0, 0), z_dir=(0, 0, -1)).offset(BOSS_EXTRUDE8_START)):
            Polygon((-15.29864364, 4.32049797), (-18.762745255, 4.32049797), (-20.494796062, 1.32049797), (-18.762745255, -1.67950203), (-15.29864364, -1.67950203), (-13.566592832, 1.32049797), align=None)
            with Locations(Location((-17.030694447, 1.32049797, 0), (0, 0, 180))):
                Circle(SKETCH12_R, mode=Mode.SUBTRACT)
        boss_extrude8 = extrude(amount=-BOSS_EXTRUDE8_DEPTH)

    # Mirror2: Boss-Extrude6, Boss-Extrude7, Cut-Extrude2, Boss-Extrude8 across plane
    with SkipClean():  # the faces are left unmerged after this step: merging them gives an invalid solid
        add(boss_extrude6.mirror(Plane(origin=(0, 0, 0), x_dir=(0, 0, 1), z_dir=(1, 0, 0))))
        add(boss_extrude7.mirror(Plane(origin=(0, 0, 0), x_dir=(0, 0, 1), z_dir=(1, 0, 0))))
        add(cut_extrude2.mirror(Plane(origin=(0, 0, 0), x_dir=(0, 0, 1), z_dir=(1, 0, 0))), mode=Mode.SUBTRACT)
        add(boss_extrude8.mirror(Plane(origin=(0, 0, 0), x_dir=(0, 0, 1), z_dir=(1, 0, 0))))


solid = part.part
